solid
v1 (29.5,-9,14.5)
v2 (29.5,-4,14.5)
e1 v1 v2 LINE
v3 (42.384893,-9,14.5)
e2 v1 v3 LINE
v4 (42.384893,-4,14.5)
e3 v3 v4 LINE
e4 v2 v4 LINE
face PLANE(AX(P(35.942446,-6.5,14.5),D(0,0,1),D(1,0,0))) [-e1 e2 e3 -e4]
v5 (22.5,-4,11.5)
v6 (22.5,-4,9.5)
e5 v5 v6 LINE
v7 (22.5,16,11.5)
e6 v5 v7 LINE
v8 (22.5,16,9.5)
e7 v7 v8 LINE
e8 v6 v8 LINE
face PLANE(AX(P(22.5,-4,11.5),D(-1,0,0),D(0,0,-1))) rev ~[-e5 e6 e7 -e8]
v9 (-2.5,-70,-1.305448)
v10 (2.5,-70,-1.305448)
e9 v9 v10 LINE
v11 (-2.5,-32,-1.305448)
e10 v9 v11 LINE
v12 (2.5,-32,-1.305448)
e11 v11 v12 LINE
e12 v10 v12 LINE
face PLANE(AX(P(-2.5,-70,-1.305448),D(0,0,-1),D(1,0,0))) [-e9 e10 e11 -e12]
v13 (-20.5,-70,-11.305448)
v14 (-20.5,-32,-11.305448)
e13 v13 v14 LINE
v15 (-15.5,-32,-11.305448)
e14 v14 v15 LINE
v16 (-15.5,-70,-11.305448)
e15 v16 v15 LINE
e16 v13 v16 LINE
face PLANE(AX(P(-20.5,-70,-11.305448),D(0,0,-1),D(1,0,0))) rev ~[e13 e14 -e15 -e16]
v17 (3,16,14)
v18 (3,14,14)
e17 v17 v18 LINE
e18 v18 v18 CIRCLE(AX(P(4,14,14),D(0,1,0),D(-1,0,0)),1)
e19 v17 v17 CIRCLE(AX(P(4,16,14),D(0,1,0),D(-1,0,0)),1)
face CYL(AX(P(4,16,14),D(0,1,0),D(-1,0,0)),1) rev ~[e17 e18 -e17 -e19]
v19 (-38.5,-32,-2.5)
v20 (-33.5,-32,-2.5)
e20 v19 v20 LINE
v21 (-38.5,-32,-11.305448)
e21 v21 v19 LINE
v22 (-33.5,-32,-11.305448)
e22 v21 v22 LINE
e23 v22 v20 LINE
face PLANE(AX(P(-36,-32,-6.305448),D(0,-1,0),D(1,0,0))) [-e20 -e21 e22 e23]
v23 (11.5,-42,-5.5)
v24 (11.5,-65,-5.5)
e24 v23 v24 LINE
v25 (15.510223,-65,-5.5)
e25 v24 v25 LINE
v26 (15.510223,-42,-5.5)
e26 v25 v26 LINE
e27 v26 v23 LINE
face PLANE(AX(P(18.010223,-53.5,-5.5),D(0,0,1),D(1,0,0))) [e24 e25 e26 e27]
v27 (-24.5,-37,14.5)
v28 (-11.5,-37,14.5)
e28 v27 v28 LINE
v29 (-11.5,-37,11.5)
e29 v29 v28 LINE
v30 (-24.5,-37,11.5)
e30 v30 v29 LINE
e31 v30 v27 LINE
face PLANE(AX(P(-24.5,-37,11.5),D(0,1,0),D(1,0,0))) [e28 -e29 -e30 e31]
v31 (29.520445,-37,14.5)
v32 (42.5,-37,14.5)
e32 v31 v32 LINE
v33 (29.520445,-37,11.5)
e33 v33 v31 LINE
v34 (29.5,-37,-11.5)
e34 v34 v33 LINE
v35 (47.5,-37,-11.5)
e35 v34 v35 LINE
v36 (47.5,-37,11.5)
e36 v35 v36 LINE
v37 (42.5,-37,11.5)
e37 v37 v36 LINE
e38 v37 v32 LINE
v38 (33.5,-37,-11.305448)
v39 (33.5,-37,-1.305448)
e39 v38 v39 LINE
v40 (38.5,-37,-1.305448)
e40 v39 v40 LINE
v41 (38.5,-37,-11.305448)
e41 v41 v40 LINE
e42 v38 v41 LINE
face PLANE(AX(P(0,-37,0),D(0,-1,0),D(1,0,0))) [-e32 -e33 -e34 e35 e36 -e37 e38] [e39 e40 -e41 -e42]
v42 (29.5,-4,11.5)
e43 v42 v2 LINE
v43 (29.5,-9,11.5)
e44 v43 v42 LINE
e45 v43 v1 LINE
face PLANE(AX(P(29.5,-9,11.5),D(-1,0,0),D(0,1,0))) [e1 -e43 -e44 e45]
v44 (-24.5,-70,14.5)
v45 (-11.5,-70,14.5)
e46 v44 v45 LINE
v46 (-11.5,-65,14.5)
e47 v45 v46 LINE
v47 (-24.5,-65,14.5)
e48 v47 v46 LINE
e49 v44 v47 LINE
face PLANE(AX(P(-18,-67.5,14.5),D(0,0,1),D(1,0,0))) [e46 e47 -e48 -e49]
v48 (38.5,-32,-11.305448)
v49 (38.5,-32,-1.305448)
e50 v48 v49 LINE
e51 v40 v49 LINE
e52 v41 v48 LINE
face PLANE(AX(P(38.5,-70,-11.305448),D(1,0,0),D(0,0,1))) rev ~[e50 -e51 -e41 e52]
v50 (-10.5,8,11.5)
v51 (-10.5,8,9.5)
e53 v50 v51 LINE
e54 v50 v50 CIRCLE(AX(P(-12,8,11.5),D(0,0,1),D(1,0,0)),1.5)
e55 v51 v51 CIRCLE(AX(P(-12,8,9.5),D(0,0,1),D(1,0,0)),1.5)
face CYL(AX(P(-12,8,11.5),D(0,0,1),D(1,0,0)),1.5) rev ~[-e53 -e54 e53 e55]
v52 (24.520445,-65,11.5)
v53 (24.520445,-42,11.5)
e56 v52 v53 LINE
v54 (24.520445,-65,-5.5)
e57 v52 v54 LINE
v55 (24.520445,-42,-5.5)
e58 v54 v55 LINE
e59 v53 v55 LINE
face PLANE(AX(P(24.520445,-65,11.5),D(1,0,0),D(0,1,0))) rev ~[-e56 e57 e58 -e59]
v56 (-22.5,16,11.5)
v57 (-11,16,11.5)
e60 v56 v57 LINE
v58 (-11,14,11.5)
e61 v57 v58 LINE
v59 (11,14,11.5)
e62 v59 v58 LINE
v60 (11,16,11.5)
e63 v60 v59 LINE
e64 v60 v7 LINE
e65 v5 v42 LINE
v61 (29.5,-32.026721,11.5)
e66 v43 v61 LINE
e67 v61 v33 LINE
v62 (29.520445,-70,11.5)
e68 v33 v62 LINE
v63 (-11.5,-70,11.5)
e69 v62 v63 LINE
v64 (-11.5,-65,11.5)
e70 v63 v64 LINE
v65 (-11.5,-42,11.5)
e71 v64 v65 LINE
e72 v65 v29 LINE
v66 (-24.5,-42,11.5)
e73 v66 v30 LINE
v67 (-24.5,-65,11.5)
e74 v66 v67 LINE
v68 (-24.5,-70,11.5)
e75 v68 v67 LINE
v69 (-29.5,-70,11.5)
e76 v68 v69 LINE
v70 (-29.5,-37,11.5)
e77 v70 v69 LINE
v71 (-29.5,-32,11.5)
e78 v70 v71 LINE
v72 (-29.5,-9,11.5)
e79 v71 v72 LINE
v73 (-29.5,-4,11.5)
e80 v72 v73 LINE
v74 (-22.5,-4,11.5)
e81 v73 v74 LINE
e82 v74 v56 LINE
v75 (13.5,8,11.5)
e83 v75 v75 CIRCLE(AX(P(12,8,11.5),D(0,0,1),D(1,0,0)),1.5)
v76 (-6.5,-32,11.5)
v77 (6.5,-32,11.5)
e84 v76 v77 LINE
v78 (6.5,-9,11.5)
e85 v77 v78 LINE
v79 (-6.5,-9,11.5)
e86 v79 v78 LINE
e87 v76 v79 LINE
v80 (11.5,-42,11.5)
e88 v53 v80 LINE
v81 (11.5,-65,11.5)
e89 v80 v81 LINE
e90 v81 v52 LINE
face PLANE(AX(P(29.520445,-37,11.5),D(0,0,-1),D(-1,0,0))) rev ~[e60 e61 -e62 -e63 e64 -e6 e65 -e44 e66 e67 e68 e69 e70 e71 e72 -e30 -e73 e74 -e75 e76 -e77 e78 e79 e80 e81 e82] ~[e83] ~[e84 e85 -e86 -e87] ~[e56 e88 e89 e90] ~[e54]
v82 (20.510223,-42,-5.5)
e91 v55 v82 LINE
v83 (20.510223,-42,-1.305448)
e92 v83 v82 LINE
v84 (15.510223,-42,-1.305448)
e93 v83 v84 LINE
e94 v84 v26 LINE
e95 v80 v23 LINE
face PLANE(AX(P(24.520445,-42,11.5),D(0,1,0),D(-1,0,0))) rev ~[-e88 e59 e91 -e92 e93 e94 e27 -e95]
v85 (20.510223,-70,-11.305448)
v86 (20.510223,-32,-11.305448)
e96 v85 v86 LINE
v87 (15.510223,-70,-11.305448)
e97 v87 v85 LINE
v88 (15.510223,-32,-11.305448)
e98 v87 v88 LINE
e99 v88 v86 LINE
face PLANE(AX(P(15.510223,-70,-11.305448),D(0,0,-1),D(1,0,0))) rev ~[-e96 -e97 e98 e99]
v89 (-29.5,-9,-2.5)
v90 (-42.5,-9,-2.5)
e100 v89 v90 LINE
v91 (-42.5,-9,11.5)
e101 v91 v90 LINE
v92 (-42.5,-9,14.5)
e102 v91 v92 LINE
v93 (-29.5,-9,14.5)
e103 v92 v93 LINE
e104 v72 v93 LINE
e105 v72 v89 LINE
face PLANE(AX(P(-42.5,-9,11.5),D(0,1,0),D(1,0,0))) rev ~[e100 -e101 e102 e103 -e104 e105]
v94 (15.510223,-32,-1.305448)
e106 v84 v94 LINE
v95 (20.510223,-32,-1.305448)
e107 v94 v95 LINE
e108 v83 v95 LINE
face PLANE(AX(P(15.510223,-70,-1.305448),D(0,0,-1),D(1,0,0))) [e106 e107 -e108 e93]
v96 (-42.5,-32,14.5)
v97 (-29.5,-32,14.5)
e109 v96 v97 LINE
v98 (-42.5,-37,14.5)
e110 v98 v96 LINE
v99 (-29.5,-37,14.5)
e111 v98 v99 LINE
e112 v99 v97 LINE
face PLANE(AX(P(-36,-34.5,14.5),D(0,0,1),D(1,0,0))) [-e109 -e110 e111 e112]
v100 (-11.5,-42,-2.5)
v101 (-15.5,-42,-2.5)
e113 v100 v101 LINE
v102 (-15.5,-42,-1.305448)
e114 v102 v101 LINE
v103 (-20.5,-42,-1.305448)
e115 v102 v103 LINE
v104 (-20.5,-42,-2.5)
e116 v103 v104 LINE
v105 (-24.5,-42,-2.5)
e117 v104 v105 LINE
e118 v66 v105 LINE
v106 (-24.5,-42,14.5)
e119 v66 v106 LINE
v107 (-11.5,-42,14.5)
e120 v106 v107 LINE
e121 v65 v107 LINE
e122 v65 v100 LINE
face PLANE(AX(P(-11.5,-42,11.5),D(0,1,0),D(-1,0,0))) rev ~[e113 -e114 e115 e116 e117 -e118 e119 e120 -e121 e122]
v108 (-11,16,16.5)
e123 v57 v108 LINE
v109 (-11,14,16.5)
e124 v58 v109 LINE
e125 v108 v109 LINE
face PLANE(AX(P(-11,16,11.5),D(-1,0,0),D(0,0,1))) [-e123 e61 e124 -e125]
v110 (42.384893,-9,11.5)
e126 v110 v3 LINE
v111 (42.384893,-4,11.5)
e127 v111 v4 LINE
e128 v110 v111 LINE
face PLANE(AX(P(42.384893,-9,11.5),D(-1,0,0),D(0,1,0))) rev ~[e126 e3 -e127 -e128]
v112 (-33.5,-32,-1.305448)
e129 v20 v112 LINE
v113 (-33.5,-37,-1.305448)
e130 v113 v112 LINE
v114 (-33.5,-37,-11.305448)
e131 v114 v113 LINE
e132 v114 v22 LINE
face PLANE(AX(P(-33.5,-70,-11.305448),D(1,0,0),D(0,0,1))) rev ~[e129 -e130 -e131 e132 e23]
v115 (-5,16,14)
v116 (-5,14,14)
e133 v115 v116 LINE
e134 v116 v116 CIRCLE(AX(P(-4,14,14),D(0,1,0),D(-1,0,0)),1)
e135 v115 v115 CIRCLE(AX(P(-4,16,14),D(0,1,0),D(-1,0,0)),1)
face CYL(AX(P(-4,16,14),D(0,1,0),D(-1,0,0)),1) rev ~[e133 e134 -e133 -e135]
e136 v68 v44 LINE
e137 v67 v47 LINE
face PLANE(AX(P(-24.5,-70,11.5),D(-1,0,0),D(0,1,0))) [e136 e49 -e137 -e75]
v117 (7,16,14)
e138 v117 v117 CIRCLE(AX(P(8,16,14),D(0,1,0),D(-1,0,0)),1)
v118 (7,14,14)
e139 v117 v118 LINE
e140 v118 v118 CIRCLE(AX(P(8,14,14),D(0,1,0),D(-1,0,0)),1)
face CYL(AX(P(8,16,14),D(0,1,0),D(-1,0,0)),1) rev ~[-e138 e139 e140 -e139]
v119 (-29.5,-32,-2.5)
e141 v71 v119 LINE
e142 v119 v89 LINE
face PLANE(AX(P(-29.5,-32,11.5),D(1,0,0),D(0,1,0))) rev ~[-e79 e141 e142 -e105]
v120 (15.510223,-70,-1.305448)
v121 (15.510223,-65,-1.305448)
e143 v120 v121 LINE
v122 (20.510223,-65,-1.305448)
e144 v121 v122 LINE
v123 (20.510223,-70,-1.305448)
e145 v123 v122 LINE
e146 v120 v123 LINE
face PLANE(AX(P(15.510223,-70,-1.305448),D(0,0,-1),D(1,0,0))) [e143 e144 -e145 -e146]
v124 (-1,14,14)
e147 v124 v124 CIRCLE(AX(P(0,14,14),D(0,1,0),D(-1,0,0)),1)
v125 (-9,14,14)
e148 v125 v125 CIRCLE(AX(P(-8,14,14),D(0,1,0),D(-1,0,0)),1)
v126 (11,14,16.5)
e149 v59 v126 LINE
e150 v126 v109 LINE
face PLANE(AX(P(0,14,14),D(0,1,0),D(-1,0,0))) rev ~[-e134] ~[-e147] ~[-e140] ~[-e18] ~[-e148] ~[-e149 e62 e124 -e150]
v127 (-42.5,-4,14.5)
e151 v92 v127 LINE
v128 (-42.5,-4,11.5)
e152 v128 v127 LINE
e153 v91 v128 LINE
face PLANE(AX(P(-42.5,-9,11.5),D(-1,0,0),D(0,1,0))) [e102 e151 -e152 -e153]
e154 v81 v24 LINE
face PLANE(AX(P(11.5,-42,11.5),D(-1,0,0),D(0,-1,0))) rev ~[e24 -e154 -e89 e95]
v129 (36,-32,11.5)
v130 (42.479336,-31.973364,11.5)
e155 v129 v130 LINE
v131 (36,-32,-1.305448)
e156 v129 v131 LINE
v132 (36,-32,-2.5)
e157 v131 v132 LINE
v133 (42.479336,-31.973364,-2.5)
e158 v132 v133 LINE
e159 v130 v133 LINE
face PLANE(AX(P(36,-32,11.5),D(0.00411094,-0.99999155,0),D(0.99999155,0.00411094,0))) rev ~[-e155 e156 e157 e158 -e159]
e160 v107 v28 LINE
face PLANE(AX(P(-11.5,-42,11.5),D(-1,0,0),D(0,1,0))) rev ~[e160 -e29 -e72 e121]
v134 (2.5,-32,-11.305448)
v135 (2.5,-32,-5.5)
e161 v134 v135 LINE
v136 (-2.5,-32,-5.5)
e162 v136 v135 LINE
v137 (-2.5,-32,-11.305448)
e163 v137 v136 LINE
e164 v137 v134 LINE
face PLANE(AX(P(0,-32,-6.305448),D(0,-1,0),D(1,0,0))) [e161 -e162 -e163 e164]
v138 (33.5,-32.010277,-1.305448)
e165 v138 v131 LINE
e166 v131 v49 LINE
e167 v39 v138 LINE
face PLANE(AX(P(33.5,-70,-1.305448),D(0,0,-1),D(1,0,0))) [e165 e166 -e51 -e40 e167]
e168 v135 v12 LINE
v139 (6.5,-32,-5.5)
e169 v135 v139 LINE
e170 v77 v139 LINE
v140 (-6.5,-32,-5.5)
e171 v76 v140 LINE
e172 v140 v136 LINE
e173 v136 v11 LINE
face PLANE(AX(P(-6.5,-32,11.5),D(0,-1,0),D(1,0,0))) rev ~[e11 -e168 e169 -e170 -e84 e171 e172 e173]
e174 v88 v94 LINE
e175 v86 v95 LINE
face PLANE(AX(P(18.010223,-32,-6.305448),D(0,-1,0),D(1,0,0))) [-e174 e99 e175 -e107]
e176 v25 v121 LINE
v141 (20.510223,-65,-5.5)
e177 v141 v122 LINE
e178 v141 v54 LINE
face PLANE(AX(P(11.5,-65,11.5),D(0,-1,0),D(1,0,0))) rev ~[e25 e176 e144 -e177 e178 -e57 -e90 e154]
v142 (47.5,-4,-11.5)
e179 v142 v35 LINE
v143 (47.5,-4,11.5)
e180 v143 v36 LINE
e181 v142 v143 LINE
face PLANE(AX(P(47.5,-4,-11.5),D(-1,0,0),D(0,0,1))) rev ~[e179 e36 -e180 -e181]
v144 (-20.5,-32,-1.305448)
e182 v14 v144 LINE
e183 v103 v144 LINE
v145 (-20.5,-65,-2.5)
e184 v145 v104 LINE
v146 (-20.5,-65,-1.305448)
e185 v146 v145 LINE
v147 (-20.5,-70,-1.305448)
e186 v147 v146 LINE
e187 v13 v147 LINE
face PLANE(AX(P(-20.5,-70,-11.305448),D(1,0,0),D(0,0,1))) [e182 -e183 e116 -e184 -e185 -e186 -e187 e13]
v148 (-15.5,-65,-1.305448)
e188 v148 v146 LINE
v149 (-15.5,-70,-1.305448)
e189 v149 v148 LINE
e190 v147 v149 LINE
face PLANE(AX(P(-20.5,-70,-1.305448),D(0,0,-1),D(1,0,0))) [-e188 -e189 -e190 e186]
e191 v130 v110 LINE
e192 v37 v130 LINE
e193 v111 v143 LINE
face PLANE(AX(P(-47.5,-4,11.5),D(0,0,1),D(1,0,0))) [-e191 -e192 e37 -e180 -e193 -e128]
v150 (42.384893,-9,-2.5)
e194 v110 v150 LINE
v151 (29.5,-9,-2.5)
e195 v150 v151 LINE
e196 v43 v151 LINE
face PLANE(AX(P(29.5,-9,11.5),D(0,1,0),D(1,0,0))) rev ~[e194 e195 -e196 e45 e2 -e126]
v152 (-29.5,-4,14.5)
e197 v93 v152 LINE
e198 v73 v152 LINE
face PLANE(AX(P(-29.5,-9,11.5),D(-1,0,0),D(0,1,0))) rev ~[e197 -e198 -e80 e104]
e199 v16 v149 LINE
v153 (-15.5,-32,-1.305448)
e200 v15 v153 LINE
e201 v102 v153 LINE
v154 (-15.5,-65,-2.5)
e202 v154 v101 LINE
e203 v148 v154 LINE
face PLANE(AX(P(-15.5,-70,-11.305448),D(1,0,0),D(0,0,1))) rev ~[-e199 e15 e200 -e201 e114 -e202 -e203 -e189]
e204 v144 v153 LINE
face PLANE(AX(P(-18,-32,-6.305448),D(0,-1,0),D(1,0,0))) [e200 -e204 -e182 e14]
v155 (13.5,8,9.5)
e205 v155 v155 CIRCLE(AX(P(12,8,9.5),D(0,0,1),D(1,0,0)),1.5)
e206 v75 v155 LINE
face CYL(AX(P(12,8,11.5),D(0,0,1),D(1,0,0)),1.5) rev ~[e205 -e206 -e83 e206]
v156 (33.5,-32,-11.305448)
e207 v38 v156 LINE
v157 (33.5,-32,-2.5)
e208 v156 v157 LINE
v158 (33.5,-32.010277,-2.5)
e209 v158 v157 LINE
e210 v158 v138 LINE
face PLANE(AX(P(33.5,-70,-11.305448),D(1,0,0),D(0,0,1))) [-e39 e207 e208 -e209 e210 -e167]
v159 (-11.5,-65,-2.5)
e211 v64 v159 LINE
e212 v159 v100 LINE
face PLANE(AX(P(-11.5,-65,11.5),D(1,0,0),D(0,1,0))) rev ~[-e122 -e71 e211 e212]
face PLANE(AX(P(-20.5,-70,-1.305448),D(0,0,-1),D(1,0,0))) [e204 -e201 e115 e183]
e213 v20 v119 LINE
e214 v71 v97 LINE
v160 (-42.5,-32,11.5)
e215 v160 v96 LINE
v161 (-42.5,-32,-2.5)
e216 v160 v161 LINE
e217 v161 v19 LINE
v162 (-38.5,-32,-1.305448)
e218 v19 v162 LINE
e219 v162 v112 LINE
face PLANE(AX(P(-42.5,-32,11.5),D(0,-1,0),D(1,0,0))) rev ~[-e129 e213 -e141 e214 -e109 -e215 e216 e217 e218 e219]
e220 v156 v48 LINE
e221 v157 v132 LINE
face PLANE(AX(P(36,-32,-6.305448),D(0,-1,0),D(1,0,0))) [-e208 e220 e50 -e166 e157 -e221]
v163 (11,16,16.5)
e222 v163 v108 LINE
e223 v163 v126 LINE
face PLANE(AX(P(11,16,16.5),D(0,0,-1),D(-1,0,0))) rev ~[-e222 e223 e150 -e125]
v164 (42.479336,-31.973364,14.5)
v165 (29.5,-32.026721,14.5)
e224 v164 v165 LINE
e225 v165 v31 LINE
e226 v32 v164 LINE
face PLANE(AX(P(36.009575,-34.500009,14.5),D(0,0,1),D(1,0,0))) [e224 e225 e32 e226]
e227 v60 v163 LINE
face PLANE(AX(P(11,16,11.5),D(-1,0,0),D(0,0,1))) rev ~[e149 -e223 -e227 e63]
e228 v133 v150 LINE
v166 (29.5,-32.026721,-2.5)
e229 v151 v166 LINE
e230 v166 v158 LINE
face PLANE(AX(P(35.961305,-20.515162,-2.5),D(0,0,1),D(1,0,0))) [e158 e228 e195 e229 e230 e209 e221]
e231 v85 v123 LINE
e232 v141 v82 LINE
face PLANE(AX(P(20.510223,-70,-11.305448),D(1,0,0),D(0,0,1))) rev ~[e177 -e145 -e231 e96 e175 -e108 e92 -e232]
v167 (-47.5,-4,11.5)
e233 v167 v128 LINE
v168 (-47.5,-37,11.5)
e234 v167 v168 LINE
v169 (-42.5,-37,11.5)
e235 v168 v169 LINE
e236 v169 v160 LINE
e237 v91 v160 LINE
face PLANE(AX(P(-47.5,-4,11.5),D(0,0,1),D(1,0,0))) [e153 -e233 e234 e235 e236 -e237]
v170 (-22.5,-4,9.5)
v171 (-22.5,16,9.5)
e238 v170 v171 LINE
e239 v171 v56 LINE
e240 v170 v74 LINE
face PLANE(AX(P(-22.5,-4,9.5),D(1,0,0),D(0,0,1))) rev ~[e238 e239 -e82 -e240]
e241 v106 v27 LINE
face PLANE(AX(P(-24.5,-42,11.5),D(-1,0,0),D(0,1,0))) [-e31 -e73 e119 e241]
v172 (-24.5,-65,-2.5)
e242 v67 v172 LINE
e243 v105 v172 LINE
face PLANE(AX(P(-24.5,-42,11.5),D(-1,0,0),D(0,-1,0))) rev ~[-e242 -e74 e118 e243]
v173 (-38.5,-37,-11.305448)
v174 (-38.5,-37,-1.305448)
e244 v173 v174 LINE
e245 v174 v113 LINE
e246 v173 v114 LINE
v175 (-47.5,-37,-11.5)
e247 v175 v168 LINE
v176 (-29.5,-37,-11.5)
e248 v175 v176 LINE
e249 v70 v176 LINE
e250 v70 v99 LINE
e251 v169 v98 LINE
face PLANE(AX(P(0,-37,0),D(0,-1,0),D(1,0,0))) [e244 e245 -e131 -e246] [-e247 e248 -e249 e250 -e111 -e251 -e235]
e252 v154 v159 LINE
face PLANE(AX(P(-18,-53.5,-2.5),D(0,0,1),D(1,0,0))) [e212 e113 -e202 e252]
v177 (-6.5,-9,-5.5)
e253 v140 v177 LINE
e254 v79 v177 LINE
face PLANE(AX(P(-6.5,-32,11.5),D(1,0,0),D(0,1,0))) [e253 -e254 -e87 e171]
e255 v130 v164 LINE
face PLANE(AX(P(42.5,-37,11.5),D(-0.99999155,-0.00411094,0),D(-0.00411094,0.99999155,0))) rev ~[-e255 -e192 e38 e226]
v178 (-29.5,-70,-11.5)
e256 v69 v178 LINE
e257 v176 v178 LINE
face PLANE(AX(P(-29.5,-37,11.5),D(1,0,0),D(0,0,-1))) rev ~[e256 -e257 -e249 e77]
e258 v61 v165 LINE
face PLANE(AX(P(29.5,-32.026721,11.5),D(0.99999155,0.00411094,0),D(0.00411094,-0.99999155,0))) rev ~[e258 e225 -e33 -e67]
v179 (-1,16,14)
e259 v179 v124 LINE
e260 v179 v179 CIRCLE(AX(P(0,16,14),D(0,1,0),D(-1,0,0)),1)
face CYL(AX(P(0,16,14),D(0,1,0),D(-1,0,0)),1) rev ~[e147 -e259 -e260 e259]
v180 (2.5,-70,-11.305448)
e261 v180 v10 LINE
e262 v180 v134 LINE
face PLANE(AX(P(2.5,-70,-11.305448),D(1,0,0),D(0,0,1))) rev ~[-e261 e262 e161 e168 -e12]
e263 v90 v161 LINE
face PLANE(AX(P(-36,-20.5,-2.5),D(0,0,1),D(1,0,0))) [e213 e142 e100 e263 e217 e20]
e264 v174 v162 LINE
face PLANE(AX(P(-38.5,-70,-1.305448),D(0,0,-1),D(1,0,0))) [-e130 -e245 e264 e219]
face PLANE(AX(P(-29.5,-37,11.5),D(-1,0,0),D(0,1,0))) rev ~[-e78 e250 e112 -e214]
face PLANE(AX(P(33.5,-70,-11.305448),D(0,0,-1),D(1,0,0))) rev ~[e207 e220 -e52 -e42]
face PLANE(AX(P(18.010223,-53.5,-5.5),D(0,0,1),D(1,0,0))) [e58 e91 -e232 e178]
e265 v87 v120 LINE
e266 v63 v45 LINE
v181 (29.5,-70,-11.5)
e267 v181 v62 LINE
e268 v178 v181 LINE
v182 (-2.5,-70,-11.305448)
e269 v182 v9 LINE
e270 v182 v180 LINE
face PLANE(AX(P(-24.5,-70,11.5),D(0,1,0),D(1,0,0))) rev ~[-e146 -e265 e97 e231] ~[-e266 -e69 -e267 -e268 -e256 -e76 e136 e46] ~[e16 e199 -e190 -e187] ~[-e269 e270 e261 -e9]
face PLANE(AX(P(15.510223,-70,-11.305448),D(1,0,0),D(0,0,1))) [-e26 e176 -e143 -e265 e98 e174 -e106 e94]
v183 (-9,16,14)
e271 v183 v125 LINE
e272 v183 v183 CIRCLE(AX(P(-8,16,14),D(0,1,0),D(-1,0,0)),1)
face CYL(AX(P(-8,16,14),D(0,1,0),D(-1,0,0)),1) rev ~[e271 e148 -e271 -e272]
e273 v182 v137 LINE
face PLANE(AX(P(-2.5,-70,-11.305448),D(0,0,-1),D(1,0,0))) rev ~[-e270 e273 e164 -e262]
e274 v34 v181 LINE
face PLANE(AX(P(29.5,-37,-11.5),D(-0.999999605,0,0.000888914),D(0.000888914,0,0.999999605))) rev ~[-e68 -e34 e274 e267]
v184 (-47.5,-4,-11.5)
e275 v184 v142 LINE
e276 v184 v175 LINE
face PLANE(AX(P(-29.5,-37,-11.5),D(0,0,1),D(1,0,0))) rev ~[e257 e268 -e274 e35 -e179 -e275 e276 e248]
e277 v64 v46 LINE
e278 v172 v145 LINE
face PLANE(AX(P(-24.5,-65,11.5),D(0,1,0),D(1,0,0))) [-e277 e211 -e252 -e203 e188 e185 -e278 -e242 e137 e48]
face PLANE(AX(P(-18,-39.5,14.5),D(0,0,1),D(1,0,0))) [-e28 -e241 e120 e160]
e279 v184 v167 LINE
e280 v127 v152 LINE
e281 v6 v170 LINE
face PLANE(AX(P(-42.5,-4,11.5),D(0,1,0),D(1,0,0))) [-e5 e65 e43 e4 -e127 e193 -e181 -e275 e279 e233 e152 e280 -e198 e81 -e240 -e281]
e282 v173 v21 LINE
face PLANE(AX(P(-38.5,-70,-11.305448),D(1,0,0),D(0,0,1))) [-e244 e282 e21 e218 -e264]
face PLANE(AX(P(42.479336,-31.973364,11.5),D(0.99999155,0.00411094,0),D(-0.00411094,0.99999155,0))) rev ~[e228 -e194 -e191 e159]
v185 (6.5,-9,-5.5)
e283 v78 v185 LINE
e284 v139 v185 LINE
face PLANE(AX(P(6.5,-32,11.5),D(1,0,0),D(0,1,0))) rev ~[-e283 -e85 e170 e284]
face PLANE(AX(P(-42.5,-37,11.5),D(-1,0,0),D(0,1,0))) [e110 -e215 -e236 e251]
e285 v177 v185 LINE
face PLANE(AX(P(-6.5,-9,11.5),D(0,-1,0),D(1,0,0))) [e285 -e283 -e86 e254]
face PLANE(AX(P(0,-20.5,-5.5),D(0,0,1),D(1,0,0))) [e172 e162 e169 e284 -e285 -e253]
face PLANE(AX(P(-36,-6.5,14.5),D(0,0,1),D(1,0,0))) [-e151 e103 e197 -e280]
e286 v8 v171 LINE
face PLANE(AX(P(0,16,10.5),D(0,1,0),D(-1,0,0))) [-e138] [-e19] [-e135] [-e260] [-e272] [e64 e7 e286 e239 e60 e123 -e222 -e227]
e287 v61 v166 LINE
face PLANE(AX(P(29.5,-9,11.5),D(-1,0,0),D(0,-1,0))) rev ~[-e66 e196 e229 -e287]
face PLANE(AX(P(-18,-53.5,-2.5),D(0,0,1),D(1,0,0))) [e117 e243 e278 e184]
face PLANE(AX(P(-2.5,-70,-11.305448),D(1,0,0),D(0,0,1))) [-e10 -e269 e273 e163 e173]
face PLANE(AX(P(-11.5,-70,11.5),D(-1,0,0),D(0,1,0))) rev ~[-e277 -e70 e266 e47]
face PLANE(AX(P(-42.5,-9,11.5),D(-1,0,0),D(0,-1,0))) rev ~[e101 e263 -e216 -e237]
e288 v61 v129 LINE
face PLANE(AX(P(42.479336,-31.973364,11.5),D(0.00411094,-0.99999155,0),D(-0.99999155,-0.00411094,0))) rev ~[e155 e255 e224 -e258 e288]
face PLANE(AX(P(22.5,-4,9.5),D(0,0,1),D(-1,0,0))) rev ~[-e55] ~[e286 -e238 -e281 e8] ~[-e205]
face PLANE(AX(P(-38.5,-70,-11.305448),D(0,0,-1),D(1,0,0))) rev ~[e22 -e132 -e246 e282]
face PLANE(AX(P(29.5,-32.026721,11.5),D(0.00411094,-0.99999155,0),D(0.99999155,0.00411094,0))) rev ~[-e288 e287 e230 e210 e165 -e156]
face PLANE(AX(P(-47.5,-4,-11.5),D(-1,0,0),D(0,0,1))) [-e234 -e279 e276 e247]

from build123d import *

# Parameters (mm, degrees)
F0_W      = 50
F0_H      = 16
F1_DEPTH  = 4
F2_W      = 95
F2_H      = 23
F3_DEPTH  = 33
F4_W      = 13
F4_H      = 23
F5_DEPTH  = 17
F6_DEPTH  = 14
F7_DEPTH  = 14
F8_W      = 13
F8_H      = 5
F8_W_2    = 12.8848927021
F9_DEPTH  = 3
F10_W     = 50
F10_H     = 16
F11_DEPTH = 4
F13_DEPTH = 20
F15_DEPTH = 33
F17_DEPTH = 14
F18_DEPTH = 17
F19_W     = 13
F19_H     = 5
F20_DEPTH = 3
F21_R     = 1.5
F22_DEPTH = 23.001
F23_W     = 5
F23_H     = 10
F24_DEPTH = 38
F25_W     = 22
F25_H     = 5
F25_R     = 1
F26_DEPTH = 2


with BuildPart() as f1:
    # F0 (on Front) → F1 (new body)
    with BuildSketch(Plane.XZ):
        Rectangle(F0_W, F0_H)
    extrude(amount=F1_DEPTH)

    # F2 (on face) → F3 (join)
    with BuildSketch(Plane.XZ.offset(4)):
        Rectangle(F2_W, F2_H)
    extrude(amount=F3_DEPTH)

    # F4 (on face) → F5 (cut)
    with BuildSketch(Plane.XY.offset(11.5)):
        with Locations((0, -20.5)):
            Rectangle(F4_W, F4_H)
    extrude(amount=-F5_DEPTH, mode=Mode.SUBTRACT)

    # F4 (on face) → F6 (cut)
    with BuildSketch(Plane.XY.offset(11.5)):
        Polygon((-29.5, -9), (-35.269472748, -9), (-42.5, -9), (-42.5, -21.713828668), (-42.5, -32), (-35.5076789856, -32), (-29.5, -32), (-29.5, -21.9520311803), align=None)
    extrude(amount=-F6_DEPTH, mode=Mode.SUBTRACT)

    # F4 (on face) → F7 (cut)
    with BuildSketch(Plane.XY.offset(11.5)):
        Polygon((42.4793356239, -31.9733636137), (42.3848927021, -9), (29.5, -9), (29.5, -22.5475411862), (29.5, -32.026721337), (36, -32), align=None)
    extrude(amount=-F7_DEPTH, mode=Mode.SUBTRACT)

    # F8 (on face) → F9 (join)
    with BuildSketch(Plane.XY.offset(11.5)):
        with Locations((-36, -6.5)):
            Rectangle(F8_W, F8_H)
        with Locations((-36, -34.5)):
            Rectangle(F8_W, F8_H)
        with Locations((35.9424463511, -6.5)):
            Rectangle(F8_W_2, F8_H)
        Polygon((29.5, -32.026721337), (29.5204450239, -37), (42.5, -37), (42.4793356239, -31.9733636137), align=None)
    extrude(amount=F9_DEPTH)

    # F10 (on face) → F11 (cut, through all)
    with BuildSketch(Plane(origin=(0, 0, 0), x_dir=(-1, 0, 0), z_dir=(0, 1, 0))):
        Rectangle(F10_W, F10_H)
    extrude(amount=-F11_DEPTH, mode=Mode.SUBTRACT)

    # F12 (on face) → F13 (join)
    with BuildSketch(Plane(origin=(0, -4, 0), x_dir=(-1, 0, 0), z_dir=(0, 1, 0))):
        Polygon((22.5, 9.5), (22.5, 11.5), (0, 11.5), (-22.5, 11.5), (-22.5, 9.5), align=None)
    extrude(amount=F13_DEPTH)

    # F14 (on face) → F15 (join)
    with BuildSketch(Plane.XZ.offset(37)):
        Polygon((-29.5, -11.5), (0, -11.5), (29.5, -11.5), (29.5204450239, 11.5), (-29.5, 11.5), align=None)
    extrude(amount=F15_DEPTH)

    # F16 (on face) → F17 (cut)
    with BuildSketch(Plane.XY.offset(11.5)):
        Polygon((-24.5, -65), (-17.6737755537, -65), (-11.5, -65), (-11.5, -54.9432039261), (-11.5, -42), (-18.178511411, -42), (-24.5, -42), (-24.5, -55.7003095746), align=None)
    extrude(amount=-F17_DEPTH, mode=Mode.SUBTRACT)

    # F16 (on face) → F18 (cut)
    with BuildSketch(Plane.XY.offset(11.5)):
        Polygon((24.5204450239, -42), (17.1529948711, -42), (11.5, -42), (11.5, -54.9432039261), (11.5, -65), (19.4243043661, -65), (24.5204450239, -65), (24.5204450239, -53.5), align=None)
    extrude(amount=-F18_DEPTH, mode=Mode.SUBTRACT)

    # F19 (on face) → F20 (join)
    with BuildSketch(Plane.XY.offset(11.5)):
        with Locations((-18, -67.5)):
            Rectangle(F19_W, F19_H)
        with Locations((-18, -39.5)):
            Rectangle(F19_W, F19_H)
    extrude(amount=F20_DEPTH)

    # F21 (on face) → F22 (cut, through all)
    with BuildSketch(Plane.XY.offset(11.5)):
        with Locations((-12, 8)):
            Circle(F21_R)
        with Locations((12, 8)):
            Circle(F21_R)
    extrude(amount=-F22_DEPTH, mode=Mode.SUBTRACT)

    # F23 (on face) → F24 (cut, through all)
    with BuildSketch(Plane.XZ.offset(70)):
        with Locations((-18, -6.3054482453)):
            Rectangle(F23_W, F23_H)
        with Locations((0, -6.3054482453)):
            Rectangle(F23_W, F23_H)
        with Locations((18.0102225119, -6.3054482453)):
            Rectangle(F23_W, F23_H)
        with Locations((-36, -6.3054482453)):
            Rectangle(F23_W, F23_H)
        with Locations((36, -6.3054482453)):
            Rectangle(F23_W, F23_H)
    extrude(amount=-F24_DEPTH, mode=Mode.SUBTRACT)

    # F25 (on face) → F26 (join)
    with BuildSketch(Plane(origin=(0, 16, 0), x_dir=(-1, 0, 0), z_dir=(0, 1, 0))):
        with Locations((0, 14)):
            Rectangle(F25_W, F25_H)
        with Locations((-8, 14)):
            Circle(F25_R, mode=Mode.SUBTRACT)
        with Locations((-4, 14)):
            Circle(F25_R, mode=Mode.SUBTRACT)
        with Locations((0, 14)):
            Circle(F25_R, mode=Mode.SUBTRACT)
        with Locations((4, 14)):
            Circle(F25_R, mode=Mode.SUBTRACT)
        with Locations((8, 14)):
            Circle(F25_R, mode=Mode.SUBTRACT)
    extrude(amount=-F26_DEPTH)


solid = f1.part
